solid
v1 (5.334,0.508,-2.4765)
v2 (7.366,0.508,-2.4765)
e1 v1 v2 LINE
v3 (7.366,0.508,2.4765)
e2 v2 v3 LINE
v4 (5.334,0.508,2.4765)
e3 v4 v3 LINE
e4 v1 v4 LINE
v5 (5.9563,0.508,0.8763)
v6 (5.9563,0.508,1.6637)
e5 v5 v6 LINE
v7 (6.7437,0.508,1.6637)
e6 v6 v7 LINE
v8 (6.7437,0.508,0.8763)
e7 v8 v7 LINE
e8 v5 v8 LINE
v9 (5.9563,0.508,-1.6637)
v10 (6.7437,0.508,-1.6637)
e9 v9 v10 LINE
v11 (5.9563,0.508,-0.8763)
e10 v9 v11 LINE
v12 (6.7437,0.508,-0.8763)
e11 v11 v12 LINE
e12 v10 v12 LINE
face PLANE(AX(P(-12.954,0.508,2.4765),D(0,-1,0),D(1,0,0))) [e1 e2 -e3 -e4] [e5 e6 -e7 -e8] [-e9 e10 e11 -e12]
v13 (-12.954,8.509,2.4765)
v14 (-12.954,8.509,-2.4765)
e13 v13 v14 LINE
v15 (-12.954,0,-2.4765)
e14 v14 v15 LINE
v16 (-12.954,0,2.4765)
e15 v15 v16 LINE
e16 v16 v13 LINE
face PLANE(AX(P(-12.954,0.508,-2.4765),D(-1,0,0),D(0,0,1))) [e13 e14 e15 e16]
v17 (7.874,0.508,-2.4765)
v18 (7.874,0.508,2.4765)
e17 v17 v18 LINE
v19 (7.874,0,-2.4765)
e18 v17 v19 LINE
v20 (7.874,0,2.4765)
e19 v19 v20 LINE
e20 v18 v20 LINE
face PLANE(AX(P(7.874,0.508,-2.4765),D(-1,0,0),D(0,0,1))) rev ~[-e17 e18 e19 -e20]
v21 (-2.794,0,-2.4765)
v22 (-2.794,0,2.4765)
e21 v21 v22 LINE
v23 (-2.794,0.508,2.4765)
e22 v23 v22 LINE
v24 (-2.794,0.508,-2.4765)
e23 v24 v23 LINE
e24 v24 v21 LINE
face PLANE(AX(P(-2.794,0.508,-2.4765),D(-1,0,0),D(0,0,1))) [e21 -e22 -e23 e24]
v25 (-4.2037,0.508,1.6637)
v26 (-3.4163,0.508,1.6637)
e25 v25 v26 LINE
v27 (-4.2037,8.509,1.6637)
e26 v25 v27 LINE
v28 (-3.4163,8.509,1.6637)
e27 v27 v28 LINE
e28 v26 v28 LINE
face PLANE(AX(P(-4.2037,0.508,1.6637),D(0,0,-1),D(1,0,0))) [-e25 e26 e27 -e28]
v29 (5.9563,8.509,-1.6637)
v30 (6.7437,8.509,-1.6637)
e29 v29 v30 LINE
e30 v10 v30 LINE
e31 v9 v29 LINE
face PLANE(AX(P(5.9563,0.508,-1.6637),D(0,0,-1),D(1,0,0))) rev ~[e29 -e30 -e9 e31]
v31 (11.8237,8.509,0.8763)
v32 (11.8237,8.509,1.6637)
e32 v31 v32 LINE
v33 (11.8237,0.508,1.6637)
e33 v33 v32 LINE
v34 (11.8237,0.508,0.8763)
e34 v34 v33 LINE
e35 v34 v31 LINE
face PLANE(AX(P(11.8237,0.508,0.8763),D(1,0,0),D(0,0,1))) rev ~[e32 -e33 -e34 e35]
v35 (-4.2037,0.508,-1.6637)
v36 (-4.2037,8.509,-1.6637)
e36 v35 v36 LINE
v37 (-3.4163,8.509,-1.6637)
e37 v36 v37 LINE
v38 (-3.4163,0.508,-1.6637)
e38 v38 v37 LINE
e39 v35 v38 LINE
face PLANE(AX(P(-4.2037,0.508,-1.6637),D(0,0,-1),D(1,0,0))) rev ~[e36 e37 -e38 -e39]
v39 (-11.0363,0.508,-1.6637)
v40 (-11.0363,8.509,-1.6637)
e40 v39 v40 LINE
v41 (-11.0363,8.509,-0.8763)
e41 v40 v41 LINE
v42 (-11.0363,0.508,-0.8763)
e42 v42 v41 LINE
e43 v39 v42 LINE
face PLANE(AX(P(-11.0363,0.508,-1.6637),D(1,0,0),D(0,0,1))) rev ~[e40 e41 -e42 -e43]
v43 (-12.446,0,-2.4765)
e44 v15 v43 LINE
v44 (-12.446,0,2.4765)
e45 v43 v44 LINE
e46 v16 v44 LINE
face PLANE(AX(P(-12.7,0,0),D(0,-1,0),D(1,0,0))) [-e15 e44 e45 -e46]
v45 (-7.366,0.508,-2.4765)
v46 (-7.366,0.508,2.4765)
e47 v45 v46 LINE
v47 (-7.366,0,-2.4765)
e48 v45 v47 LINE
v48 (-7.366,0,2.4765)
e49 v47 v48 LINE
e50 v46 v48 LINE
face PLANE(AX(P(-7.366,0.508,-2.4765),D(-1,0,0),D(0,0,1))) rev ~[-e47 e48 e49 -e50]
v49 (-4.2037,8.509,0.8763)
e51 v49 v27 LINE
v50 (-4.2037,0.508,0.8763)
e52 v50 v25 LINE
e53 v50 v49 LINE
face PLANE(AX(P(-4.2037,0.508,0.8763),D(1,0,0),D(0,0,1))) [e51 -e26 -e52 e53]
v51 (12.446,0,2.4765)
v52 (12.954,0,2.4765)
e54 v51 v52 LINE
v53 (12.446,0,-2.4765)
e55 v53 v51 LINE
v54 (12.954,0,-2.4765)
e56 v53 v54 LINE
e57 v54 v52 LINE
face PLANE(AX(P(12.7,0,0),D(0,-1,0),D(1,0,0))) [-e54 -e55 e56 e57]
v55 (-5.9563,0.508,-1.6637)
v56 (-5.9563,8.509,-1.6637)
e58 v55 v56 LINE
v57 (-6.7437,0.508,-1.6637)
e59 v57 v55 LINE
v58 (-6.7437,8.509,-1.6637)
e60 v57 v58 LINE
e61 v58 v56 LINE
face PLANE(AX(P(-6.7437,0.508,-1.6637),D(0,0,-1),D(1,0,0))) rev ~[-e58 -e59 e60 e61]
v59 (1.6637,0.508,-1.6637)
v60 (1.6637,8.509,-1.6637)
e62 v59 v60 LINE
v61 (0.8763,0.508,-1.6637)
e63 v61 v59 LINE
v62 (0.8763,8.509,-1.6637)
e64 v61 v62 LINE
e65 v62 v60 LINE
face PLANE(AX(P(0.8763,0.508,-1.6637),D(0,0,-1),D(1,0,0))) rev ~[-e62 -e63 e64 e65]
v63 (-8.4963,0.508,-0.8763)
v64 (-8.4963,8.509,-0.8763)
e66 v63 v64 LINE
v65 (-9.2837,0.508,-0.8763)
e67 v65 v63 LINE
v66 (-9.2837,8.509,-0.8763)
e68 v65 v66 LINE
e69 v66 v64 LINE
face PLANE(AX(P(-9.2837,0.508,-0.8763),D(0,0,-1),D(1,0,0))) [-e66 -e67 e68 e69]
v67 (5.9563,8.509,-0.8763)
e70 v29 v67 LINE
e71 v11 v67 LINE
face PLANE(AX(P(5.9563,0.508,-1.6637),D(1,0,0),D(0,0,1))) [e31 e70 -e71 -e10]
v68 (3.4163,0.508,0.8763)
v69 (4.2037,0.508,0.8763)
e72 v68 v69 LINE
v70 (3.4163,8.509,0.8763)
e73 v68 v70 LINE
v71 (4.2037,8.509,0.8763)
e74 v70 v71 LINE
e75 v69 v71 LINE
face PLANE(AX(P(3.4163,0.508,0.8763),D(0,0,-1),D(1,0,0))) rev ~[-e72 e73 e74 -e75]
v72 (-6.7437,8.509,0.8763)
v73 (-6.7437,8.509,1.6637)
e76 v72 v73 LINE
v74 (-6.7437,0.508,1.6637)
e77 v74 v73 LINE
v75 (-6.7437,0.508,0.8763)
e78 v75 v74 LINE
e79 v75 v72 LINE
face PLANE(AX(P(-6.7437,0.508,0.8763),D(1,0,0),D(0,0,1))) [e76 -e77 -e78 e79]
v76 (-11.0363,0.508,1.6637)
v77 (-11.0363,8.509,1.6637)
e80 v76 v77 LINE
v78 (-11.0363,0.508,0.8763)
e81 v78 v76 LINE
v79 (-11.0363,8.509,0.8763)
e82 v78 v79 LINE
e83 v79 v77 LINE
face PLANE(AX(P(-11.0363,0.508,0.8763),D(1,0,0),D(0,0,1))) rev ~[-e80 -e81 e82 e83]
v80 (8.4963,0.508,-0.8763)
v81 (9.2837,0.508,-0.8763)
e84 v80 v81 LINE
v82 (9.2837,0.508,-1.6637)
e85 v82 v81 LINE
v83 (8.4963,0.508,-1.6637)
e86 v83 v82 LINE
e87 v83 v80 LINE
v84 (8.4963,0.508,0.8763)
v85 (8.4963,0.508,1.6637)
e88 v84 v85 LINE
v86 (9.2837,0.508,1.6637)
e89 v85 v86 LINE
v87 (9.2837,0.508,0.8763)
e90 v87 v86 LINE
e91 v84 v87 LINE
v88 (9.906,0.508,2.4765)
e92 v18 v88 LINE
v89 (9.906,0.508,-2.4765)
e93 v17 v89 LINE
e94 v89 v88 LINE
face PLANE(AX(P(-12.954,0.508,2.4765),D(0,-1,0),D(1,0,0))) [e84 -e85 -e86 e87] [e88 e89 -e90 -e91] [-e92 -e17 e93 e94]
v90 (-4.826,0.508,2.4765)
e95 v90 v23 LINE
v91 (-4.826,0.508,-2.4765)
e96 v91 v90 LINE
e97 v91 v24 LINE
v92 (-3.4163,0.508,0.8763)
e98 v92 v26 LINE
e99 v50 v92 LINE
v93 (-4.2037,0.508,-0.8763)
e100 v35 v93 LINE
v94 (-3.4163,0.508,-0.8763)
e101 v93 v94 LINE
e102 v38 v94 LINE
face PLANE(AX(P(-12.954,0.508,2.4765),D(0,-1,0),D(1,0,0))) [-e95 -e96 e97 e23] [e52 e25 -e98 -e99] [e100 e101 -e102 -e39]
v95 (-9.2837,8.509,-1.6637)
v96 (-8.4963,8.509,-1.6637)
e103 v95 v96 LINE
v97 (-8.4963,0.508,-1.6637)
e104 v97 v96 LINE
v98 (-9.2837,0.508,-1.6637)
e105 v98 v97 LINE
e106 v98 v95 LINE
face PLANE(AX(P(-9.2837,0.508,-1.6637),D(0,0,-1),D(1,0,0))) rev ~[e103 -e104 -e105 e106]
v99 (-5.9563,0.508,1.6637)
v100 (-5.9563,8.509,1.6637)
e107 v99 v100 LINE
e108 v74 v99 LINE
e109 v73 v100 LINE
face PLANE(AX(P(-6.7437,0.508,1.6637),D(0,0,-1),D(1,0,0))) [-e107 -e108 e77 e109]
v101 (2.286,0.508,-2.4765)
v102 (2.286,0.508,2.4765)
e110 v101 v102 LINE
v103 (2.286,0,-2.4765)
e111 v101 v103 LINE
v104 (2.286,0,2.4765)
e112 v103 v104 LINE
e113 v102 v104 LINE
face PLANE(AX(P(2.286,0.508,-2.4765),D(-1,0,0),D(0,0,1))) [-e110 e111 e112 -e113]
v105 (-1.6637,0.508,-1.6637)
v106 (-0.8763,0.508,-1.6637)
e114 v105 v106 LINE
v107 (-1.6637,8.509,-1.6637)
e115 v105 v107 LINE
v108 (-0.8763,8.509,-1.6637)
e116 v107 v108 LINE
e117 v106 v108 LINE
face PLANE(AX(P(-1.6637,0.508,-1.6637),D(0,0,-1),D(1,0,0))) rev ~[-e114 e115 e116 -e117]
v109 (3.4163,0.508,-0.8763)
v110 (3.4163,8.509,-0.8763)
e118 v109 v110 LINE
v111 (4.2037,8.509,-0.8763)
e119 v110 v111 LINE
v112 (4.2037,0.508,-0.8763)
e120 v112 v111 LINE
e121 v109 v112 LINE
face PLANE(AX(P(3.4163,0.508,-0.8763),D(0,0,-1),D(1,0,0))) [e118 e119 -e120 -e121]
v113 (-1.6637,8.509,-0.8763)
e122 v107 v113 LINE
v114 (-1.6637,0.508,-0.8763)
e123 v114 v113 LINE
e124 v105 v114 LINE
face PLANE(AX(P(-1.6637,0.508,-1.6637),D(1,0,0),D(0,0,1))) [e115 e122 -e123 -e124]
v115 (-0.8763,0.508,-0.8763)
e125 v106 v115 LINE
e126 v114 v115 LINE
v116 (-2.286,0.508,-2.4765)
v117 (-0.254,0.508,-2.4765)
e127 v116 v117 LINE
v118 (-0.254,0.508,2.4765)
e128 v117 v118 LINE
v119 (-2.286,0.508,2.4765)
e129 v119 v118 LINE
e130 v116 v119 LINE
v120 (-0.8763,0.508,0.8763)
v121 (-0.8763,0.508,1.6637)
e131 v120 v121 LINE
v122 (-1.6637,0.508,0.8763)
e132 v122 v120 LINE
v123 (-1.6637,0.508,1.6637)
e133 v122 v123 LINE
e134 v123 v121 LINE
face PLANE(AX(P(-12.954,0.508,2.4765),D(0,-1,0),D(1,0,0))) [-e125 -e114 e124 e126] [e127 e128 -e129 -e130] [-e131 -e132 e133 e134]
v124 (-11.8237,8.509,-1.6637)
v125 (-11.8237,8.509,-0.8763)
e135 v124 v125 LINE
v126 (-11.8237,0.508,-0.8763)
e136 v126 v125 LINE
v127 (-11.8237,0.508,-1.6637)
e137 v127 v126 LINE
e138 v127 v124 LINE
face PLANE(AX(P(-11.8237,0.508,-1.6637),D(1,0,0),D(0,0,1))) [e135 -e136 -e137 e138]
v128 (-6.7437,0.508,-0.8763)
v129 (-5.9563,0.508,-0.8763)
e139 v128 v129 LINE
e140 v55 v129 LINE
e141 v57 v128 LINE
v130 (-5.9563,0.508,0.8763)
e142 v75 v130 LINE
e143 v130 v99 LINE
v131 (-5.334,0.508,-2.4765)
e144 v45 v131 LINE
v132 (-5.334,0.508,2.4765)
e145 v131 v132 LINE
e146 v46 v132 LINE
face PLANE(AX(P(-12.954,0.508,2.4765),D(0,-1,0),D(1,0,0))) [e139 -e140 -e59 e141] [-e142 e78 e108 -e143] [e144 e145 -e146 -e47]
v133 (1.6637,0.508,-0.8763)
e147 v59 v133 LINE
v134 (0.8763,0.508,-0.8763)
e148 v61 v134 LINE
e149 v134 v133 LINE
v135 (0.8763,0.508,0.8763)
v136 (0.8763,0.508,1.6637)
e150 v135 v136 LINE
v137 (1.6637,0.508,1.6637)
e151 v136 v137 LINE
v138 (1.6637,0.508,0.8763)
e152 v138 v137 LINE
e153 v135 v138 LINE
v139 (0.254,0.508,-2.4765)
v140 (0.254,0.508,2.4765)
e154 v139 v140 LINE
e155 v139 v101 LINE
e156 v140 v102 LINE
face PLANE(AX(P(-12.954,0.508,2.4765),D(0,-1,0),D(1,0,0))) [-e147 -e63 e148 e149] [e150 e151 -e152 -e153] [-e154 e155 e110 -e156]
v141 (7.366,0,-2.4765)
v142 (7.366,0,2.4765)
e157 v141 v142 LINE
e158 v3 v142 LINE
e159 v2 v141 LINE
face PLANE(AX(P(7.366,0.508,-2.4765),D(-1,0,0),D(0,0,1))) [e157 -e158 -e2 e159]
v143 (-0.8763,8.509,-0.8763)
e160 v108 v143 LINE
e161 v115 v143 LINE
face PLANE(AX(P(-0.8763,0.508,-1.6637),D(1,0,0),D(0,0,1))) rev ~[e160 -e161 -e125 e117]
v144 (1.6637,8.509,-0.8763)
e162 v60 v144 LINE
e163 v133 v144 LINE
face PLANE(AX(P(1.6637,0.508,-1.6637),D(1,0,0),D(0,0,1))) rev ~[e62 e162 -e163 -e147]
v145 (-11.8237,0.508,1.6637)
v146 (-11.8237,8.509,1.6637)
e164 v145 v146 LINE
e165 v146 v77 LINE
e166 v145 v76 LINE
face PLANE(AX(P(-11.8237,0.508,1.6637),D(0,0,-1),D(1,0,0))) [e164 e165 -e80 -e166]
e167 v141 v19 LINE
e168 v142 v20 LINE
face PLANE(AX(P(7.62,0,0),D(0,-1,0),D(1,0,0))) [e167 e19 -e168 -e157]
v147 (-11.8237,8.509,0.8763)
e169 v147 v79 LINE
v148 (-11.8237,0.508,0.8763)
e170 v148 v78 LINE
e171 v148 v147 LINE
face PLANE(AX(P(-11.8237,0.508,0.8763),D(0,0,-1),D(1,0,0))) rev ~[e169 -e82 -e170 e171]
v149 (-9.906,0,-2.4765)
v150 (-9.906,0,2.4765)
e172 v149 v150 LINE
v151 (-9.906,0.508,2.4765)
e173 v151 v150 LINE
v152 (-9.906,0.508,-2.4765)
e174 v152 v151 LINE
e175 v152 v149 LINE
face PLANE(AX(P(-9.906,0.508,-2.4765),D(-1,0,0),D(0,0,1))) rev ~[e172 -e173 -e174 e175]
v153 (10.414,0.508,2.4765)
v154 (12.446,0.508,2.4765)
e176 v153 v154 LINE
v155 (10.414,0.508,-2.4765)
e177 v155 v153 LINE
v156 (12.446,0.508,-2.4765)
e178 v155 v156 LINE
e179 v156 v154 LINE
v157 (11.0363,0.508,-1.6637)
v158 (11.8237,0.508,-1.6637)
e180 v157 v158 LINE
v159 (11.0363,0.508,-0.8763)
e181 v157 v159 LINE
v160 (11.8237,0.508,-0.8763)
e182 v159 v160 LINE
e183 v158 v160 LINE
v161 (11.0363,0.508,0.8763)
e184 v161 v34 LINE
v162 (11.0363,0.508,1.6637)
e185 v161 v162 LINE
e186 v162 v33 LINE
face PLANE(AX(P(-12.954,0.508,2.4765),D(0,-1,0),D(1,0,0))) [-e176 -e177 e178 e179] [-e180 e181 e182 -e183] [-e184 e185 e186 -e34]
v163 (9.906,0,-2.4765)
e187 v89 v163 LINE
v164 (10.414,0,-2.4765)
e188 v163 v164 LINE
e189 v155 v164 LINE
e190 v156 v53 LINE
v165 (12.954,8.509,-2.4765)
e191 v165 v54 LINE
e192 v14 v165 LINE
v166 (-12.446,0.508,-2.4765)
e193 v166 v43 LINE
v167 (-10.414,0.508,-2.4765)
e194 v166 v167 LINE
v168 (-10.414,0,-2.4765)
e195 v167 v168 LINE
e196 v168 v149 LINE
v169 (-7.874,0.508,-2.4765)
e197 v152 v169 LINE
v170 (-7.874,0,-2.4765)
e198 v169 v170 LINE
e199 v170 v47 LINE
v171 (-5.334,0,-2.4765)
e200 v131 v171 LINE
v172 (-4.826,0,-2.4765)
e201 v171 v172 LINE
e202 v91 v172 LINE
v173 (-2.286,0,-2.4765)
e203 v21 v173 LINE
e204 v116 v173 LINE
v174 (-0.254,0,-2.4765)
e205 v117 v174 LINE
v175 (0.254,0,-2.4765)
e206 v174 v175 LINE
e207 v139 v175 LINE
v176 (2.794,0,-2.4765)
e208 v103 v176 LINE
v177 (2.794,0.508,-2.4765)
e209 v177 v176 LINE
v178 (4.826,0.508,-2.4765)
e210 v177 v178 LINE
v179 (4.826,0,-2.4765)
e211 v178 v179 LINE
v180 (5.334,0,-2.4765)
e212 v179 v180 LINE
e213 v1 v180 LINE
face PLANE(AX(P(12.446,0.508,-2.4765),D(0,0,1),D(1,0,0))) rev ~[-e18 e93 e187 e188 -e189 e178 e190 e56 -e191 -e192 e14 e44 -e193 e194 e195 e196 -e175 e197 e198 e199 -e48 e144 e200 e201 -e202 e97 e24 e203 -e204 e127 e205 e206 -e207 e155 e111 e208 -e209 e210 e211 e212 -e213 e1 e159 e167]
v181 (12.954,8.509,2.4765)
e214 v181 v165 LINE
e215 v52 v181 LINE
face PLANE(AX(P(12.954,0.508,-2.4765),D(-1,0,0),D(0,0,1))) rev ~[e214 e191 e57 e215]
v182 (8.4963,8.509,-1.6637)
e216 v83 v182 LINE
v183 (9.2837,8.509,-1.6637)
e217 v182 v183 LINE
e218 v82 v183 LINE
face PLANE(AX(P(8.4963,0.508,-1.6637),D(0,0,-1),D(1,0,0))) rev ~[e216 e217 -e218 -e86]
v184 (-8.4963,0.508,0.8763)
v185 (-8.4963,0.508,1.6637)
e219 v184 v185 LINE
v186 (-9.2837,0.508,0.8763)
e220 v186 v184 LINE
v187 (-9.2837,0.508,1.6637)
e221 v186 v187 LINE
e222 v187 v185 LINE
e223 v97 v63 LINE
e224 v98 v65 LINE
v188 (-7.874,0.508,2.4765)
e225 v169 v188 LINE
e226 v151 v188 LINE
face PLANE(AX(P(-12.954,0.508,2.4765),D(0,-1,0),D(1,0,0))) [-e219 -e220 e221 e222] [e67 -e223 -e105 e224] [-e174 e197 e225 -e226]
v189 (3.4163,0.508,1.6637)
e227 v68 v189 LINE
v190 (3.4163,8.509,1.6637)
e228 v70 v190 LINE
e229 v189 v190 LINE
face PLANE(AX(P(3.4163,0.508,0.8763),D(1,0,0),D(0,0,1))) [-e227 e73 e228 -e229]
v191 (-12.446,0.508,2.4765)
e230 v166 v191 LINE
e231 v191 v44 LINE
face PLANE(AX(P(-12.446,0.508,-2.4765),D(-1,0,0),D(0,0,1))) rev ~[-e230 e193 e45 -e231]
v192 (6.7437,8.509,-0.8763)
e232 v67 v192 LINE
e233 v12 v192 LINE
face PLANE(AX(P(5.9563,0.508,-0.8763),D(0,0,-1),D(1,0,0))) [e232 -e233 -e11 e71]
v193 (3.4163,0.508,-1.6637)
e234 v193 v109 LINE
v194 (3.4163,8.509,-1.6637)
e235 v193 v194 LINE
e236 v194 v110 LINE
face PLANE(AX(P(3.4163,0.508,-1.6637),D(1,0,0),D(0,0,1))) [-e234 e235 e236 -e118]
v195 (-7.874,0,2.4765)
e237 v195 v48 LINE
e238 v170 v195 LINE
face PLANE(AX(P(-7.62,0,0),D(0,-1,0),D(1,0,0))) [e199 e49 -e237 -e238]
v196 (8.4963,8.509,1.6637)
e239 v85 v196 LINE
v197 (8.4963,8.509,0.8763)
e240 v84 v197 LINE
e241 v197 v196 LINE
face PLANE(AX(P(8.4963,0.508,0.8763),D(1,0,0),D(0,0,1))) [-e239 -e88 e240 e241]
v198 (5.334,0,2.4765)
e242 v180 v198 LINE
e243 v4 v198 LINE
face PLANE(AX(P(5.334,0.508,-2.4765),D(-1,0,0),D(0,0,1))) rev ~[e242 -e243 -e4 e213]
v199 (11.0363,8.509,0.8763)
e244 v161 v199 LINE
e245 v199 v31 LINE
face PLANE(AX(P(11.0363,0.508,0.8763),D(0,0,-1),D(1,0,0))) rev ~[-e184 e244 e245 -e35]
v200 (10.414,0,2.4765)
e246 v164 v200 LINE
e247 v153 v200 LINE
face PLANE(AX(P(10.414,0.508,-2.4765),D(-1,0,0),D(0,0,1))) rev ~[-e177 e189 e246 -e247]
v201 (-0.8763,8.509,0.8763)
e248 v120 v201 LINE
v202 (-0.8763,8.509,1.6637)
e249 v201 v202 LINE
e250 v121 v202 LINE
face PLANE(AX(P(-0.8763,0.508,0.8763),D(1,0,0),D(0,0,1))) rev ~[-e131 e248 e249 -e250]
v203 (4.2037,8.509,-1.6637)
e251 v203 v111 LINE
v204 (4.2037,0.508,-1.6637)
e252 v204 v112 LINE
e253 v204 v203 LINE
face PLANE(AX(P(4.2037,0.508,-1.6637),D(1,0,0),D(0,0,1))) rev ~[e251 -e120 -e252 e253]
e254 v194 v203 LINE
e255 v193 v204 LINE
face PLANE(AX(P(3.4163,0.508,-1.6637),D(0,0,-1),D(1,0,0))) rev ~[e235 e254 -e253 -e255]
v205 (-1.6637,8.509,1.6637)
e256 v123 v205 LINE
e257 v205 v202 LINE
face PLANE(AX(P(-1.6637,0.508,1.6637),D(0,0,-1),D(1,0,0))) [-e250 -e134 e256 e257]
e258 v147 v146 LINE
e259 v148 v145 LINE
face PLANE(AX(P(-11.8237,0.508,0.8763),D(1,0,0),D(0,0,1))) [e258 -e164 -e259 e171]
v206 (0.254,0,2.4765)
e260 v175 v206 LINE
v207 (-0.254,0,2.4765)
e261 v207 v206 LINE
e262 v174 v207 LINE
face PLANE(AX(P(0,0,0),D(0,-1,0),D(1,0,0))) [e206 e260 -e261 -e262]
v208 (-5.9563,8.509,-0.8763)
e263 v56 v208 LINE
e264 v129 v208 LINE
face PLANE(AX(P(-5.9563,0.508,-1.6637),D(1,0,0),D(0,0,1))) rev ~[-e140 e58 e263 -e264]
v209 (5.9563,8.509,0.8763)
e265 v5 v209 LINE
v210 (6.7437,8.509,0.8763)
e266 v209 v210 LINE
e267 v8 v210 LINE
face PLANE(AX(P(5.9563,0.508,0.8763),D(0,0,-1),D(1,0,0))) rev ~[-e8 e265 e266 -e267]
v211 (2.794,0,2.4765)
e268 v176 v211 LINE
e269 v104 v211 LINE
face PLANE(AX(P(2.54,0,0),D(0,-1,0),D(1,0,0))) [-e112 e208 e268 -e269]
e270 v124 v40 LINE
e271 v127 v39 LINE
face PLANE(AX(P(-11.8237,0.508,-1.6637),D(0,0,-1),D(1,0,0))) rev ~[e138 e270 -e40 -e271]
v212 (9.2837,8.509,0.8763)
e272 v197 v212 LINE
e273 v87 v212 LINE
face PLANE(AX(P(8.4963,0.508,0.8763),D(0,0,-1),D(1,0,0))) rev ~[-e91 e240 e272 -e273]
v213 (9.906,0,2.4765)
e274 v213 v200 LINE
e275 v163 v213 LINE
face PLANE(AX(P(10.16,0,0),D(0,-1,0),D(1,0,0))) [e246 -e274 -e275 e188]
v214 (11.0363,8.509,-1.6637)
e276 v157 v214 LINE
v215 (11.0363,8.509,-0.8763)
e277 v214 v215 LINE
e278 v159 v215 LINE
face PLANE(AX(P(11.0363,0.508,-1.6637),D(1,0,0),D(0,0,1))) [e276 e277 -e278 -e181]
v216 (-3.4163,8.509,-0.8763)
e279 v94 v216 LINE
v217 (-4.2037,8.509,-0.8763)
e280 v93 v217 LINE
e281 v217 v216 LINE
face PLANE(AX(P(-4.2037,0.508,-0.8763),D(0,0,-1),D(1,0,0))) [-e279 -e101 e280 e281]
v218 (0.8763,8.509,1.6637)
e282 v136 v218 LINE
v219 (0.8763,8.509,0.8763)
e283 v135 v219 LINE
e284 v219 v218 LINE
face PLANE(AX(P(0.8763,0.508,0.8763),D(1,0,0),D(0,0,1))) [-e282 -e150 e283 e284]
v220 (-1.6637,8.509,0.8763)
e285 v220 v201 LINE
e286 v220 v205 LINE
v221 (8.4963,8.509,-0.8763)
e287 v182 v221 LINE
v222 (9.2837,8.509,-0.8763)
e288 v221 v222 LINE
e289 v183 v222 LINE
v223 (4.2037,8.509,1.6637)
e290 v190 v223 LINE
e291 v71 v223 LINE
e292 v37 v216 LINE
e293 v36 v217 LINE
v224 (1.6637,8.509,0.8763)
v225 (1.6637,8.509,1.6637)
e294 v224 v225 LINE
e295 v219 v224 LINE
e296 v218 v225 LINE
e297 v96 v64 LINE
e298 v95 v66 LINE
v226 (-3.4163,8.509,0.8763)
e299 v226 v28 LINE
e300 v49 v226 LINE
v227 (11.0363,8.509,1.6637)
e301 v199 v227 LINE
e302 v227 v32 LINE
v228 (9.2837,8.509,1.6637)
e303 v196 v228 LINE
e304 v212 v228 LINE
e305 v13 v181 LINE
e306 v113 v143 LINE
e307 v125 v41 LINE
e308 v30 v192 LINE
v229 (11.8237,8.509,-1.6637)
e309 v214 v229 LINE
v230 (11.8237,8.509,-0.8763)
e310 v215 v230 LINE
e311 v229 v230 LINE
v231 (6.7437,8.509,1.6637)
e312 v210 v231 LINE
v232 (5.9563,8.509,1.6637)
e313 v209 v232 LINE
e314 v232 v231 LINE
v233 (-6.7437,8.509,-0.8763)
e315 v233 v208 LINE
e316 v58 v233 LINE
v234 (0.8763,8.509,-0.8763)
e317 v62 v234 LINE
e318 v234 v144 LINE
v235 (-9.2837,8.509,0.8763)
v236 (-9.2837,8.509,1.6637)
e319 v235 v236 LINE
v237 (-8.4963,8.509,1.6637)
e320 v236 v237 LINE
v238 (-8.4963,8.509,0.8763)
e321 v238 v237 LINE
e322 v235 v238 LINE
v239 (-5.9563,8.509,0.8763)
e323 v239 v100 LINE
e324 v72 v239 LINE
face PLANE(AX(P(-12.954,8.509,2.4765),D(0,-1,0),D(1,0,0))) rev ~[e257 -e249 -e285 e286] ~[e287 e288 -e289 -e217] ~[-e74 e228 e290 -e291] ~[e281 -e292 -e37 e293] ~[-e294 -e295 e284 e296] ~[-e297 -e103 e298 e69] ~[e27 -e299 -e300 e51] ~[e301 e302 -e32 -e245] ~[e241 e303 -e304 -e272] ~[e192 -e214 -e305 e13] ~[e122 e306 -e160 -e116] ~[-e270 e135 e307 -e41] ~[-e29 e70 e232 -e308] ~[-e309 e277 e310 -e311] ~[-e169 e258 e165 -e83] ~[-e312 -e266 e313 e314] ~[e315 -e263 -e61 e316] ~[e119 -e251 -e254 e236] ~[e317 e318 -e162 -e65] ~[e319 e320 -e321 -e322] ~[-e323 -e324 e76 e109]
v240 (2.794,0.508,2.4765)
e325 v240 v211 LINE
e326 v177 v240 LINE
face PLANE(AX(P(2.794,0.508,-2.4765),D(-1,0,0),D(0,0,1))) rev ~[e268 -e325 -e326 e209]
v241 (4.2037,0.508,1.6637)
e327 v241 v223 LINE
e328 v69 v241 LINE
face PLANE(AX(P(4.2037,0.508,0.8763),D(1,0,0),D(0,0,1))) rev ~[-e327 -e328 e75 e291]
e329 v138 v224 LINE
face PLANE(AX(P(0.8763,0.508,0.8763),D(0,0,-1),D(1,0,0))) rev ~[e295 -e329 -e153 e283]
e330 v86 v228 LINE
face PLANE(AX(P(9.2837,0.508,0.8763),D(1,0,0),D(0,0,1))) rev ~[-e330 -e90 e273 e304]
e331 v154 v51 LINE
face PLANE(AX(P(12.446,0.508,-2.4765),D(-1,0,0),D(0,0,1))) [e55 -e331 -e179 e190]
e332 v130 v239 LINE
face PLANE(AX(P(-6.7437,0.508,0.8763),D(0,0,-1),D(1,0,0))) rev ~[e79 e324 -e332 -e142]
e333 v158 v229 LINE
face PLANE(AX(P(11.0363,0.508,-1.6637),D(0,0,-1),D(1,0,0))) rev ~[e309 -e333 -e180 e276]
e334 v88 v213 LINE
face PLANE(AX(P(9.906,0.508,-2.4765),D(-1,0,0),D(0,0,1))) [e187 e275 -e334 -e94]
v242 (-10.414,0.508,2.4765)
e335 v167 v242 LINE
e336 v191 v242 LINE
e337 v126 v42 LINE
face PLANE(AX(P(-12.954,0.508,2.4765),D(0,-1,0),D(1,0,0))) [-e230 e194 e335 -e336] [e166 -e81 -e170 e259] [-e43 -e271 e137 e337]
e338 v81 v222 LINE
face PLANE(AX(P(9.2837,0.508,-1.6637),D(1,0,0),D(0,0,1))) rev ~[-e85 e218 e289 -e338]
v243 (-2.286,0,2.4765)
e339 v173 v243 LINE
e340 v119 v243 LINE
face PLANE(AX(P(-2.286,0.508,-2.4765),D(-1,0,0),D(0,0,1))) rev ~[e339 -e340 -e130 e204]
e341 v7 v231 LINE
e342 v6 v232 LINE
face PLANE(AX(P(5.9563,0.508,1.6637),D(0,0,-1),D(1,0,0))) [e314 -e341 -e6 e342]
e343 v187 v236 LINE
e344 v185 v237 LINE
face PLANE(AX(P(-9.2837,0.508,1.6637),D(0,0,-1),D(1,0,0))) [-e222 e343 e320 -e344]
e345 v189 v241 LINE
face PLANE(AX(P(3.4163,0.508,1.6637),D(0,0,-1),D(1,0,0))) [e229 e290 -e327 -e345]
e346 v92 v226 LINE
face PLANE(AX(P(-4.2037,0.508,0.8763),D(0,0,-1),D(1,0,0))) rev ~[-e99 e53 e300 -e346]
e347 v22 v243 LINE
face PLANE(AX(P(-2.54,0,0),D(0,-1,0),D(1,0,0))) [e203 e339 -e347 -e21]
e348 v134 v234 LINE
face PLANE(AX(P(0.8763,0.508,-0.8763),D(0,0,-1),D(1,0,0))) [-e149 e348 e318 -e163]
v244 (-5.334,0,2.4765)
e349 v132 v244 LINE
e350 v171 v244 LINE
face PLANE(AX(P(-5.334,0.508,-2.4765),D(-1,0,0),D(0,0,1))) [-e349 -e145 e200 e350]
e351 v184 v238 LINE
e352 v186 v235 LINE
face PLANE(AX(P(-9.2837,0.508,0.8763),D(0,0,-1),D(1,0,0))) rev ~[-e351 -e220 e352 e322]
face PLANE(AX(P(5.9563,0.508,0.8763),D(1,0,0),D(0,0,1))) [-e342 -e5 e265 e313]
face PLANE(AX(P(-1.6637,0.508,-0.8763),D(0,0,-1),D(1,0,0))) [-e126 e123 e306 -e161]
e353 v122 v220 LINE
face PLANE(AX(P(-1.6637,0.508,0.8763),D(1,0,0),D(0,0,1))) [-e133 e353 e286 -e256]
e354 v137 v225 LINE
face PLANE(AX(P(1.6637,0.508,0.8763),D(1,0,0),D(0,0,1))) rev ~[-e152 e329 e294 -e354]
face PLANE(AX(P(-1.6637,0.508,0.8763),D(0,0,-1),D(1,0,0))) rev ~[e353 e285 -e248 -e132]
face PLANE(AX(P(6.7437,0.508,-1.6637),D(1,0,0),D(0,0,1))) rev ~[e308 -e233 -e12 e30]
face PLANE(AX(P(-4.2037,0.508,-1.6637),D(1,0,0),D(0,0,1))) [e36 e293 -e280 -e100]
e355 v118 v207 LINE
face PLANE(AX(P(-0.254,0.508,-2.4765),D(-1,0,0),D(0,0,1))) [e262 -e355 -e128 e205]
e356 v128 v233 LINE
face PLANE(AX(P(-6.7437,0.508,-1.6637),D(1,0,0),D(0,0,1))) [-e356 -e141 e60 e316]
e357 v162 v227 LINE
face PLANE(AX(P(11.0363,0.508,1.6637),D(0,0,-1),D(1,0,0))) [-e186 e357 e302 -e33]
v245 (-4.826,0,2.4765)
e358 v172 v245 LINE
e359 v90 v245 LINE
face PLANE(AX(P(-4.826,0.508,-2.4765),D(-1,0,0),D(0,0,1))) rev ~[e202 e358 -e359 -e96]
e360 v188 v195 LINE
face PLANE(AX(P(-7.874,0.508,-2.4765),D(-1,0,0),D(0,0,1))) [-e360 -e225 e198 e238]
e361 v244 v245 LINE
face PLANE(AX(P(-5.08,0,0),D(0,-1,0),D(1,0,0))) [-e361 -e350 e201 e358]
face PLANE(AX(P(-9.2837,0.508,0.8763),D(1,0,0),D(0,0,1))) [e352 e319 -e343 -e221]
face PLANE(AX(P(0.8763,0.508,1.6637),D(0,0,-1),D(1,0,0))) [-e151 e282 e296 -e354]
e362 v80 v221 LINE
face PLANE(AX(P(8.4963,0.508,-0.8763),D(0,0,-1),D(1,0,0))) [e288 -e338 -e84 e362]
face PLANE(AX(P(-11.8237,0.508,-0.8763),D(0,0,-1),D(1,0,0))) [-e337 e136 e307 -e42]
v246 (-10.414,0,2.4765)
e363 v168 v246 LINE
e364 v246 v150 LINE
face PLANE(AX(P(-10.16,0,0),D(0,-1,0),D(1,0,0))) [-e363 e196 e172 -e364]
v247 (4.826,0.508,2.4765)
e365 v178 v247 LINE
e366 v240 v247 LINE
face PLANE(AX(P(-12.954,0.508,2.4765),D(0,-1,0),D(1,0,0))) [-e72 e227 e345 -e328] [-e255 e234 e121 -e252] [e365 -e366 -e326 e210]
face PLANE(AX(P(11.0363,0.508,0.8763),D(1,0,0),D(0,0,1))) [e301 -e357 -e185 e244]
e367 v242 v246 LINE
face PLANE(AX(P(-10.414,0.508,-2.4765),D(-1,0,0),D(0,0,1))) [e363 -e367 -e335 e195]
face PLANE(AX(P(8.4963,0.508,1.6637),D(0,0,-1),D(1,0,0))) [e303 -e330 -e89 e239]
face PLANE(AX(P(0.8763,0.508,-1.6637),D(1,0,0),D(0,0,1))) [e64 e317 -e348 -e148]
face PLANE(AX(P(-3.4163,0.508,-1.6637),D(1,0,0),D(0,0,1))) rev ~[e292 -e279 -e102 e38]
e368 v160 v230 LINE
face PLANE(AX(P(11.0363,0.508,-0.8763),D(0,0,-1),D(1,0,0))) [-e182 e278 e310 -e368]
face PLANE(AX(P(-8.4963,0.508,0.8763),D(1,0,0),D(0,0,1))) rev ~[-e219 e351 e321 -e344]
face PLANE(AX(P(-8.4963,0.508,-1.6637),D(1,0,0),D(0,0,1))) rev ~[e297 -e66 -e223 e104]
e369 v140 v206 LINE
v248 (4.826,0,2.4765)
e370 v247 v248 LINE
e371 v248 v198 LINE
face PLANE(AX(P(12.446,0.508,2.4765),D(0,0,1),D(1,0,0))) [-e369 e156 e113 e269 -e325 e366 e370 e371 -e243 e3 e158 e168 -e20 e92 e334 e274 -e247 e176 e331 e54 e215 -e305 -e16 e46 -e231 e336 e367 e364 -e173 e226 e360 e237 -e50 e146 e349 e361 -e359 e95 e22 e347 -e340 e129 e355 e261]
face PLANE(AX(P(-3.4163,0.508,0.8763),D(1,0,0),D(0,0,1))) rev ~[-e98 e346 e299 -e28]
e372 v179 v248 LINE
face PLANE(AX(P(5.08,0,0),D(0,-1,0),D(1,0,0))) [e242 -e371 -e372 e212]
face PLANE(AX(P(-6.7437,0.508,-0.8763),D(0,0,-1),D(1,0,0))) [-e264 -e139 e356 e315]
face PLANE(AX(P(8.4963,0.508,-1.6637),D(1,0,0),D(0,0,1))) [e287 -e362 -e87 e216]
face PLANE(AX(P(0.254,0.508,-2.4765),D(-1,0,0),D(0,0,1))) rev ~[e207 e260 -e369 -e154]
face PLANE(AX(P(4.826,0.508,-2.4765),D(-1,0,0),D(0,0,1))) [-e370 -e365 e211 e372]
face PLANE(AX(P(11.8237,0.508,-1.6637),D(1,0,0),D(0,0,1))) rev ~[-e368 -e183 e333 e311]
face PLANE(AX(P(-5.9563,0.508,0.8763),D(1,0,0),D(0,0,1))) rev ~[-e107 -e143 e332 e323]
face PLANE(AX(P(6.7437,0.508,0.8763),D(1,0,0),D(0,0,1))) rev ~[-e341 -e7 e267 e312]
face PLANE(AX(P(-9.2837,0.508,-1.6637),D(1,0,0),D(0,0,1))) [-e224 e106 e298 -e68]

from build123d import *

# Parameters (mm, degrees)
SKETCH1_W            = 25.908
SKETCH1_H            = 8.001
BOSS_EXTRUDE1_DEPTH  = 4.953
SKETCH2_W            = 0.7874
SKETCH2_H            = 0.7874
CUT_EXTRUDE1_DEPTH   = 9.001
LPATTERN1_COUNT      = 2
LPATTERN1_PITCH      = 2.54
LPATTERN1_COUNT_DIR2 = 10
LPATTERN1_PITCH_DIR2 = 2.54
SKETCH3_W            = 0.508
SKETCH3_H            = 4.953
BOSS_EXTRUDE2_DEPTH  = 0.508
LPATTERN2_COUNT      = 11
LPATTERN2_PITCH      = 2.54


with BuildPart() as part:
    # Sketch1 → Boss-Extrude1 (new body)
    with BuildSketch(Plane.XY.offset(2.4765)):
        with Locations((0, 4.5085)):
            Rectangle(SKETCH1_W, SKETCH1_H)
    extrude(amount=-BOSS_EXTRUDE1_DEPTH)

    # Sketch2 → Cut-Extrude1 (cut, through all)
    with BuildSketch(Plane.XZ.offset(-0.508)):
        with Locations((11.43, -1.27)):
            Rectangle(SKETCH2_W, SKETCH2_H)
    cut_extrude1 = extrude(amount=-CUT_EXTRUDE1_DEPTH, mode=Mode.SUBTRACT)

    # LPattern1: Cut-Extrude1 2 × 10
    with Locations(*[(-j * LPATTERN1_PITCH_DIR2, 0, i * LPATTERN1_PITCH) for i in range(LPATTERN1_COUNT) for j in range(LPATTERN1_COUNT_DIR2) if (i, j) != (0, 0)]):
        add(cut_extrude1, mode=Mode.SUBTRACT)

    # Sketch3 → Boss-Extrude2 (add)
    with BuildSketch(Plane.XZ.offset(-0.508)):
        with Locations((-12.7, 0)):
            Rectangle(SKETCH3_W, SKETCH3_H)
    boss_extrude2 = extrude(amount=BOSS_EXTRUDE2_DEPTH)

    # LPattern2: Boss-Extrude2 ×11
    with Locations(*[(i * LPATTERN2_PITCH, 0, 0) for i in range(1, LPATTERN2_COUNT)]):
        add(boss_extrude2)


solid = part.part
